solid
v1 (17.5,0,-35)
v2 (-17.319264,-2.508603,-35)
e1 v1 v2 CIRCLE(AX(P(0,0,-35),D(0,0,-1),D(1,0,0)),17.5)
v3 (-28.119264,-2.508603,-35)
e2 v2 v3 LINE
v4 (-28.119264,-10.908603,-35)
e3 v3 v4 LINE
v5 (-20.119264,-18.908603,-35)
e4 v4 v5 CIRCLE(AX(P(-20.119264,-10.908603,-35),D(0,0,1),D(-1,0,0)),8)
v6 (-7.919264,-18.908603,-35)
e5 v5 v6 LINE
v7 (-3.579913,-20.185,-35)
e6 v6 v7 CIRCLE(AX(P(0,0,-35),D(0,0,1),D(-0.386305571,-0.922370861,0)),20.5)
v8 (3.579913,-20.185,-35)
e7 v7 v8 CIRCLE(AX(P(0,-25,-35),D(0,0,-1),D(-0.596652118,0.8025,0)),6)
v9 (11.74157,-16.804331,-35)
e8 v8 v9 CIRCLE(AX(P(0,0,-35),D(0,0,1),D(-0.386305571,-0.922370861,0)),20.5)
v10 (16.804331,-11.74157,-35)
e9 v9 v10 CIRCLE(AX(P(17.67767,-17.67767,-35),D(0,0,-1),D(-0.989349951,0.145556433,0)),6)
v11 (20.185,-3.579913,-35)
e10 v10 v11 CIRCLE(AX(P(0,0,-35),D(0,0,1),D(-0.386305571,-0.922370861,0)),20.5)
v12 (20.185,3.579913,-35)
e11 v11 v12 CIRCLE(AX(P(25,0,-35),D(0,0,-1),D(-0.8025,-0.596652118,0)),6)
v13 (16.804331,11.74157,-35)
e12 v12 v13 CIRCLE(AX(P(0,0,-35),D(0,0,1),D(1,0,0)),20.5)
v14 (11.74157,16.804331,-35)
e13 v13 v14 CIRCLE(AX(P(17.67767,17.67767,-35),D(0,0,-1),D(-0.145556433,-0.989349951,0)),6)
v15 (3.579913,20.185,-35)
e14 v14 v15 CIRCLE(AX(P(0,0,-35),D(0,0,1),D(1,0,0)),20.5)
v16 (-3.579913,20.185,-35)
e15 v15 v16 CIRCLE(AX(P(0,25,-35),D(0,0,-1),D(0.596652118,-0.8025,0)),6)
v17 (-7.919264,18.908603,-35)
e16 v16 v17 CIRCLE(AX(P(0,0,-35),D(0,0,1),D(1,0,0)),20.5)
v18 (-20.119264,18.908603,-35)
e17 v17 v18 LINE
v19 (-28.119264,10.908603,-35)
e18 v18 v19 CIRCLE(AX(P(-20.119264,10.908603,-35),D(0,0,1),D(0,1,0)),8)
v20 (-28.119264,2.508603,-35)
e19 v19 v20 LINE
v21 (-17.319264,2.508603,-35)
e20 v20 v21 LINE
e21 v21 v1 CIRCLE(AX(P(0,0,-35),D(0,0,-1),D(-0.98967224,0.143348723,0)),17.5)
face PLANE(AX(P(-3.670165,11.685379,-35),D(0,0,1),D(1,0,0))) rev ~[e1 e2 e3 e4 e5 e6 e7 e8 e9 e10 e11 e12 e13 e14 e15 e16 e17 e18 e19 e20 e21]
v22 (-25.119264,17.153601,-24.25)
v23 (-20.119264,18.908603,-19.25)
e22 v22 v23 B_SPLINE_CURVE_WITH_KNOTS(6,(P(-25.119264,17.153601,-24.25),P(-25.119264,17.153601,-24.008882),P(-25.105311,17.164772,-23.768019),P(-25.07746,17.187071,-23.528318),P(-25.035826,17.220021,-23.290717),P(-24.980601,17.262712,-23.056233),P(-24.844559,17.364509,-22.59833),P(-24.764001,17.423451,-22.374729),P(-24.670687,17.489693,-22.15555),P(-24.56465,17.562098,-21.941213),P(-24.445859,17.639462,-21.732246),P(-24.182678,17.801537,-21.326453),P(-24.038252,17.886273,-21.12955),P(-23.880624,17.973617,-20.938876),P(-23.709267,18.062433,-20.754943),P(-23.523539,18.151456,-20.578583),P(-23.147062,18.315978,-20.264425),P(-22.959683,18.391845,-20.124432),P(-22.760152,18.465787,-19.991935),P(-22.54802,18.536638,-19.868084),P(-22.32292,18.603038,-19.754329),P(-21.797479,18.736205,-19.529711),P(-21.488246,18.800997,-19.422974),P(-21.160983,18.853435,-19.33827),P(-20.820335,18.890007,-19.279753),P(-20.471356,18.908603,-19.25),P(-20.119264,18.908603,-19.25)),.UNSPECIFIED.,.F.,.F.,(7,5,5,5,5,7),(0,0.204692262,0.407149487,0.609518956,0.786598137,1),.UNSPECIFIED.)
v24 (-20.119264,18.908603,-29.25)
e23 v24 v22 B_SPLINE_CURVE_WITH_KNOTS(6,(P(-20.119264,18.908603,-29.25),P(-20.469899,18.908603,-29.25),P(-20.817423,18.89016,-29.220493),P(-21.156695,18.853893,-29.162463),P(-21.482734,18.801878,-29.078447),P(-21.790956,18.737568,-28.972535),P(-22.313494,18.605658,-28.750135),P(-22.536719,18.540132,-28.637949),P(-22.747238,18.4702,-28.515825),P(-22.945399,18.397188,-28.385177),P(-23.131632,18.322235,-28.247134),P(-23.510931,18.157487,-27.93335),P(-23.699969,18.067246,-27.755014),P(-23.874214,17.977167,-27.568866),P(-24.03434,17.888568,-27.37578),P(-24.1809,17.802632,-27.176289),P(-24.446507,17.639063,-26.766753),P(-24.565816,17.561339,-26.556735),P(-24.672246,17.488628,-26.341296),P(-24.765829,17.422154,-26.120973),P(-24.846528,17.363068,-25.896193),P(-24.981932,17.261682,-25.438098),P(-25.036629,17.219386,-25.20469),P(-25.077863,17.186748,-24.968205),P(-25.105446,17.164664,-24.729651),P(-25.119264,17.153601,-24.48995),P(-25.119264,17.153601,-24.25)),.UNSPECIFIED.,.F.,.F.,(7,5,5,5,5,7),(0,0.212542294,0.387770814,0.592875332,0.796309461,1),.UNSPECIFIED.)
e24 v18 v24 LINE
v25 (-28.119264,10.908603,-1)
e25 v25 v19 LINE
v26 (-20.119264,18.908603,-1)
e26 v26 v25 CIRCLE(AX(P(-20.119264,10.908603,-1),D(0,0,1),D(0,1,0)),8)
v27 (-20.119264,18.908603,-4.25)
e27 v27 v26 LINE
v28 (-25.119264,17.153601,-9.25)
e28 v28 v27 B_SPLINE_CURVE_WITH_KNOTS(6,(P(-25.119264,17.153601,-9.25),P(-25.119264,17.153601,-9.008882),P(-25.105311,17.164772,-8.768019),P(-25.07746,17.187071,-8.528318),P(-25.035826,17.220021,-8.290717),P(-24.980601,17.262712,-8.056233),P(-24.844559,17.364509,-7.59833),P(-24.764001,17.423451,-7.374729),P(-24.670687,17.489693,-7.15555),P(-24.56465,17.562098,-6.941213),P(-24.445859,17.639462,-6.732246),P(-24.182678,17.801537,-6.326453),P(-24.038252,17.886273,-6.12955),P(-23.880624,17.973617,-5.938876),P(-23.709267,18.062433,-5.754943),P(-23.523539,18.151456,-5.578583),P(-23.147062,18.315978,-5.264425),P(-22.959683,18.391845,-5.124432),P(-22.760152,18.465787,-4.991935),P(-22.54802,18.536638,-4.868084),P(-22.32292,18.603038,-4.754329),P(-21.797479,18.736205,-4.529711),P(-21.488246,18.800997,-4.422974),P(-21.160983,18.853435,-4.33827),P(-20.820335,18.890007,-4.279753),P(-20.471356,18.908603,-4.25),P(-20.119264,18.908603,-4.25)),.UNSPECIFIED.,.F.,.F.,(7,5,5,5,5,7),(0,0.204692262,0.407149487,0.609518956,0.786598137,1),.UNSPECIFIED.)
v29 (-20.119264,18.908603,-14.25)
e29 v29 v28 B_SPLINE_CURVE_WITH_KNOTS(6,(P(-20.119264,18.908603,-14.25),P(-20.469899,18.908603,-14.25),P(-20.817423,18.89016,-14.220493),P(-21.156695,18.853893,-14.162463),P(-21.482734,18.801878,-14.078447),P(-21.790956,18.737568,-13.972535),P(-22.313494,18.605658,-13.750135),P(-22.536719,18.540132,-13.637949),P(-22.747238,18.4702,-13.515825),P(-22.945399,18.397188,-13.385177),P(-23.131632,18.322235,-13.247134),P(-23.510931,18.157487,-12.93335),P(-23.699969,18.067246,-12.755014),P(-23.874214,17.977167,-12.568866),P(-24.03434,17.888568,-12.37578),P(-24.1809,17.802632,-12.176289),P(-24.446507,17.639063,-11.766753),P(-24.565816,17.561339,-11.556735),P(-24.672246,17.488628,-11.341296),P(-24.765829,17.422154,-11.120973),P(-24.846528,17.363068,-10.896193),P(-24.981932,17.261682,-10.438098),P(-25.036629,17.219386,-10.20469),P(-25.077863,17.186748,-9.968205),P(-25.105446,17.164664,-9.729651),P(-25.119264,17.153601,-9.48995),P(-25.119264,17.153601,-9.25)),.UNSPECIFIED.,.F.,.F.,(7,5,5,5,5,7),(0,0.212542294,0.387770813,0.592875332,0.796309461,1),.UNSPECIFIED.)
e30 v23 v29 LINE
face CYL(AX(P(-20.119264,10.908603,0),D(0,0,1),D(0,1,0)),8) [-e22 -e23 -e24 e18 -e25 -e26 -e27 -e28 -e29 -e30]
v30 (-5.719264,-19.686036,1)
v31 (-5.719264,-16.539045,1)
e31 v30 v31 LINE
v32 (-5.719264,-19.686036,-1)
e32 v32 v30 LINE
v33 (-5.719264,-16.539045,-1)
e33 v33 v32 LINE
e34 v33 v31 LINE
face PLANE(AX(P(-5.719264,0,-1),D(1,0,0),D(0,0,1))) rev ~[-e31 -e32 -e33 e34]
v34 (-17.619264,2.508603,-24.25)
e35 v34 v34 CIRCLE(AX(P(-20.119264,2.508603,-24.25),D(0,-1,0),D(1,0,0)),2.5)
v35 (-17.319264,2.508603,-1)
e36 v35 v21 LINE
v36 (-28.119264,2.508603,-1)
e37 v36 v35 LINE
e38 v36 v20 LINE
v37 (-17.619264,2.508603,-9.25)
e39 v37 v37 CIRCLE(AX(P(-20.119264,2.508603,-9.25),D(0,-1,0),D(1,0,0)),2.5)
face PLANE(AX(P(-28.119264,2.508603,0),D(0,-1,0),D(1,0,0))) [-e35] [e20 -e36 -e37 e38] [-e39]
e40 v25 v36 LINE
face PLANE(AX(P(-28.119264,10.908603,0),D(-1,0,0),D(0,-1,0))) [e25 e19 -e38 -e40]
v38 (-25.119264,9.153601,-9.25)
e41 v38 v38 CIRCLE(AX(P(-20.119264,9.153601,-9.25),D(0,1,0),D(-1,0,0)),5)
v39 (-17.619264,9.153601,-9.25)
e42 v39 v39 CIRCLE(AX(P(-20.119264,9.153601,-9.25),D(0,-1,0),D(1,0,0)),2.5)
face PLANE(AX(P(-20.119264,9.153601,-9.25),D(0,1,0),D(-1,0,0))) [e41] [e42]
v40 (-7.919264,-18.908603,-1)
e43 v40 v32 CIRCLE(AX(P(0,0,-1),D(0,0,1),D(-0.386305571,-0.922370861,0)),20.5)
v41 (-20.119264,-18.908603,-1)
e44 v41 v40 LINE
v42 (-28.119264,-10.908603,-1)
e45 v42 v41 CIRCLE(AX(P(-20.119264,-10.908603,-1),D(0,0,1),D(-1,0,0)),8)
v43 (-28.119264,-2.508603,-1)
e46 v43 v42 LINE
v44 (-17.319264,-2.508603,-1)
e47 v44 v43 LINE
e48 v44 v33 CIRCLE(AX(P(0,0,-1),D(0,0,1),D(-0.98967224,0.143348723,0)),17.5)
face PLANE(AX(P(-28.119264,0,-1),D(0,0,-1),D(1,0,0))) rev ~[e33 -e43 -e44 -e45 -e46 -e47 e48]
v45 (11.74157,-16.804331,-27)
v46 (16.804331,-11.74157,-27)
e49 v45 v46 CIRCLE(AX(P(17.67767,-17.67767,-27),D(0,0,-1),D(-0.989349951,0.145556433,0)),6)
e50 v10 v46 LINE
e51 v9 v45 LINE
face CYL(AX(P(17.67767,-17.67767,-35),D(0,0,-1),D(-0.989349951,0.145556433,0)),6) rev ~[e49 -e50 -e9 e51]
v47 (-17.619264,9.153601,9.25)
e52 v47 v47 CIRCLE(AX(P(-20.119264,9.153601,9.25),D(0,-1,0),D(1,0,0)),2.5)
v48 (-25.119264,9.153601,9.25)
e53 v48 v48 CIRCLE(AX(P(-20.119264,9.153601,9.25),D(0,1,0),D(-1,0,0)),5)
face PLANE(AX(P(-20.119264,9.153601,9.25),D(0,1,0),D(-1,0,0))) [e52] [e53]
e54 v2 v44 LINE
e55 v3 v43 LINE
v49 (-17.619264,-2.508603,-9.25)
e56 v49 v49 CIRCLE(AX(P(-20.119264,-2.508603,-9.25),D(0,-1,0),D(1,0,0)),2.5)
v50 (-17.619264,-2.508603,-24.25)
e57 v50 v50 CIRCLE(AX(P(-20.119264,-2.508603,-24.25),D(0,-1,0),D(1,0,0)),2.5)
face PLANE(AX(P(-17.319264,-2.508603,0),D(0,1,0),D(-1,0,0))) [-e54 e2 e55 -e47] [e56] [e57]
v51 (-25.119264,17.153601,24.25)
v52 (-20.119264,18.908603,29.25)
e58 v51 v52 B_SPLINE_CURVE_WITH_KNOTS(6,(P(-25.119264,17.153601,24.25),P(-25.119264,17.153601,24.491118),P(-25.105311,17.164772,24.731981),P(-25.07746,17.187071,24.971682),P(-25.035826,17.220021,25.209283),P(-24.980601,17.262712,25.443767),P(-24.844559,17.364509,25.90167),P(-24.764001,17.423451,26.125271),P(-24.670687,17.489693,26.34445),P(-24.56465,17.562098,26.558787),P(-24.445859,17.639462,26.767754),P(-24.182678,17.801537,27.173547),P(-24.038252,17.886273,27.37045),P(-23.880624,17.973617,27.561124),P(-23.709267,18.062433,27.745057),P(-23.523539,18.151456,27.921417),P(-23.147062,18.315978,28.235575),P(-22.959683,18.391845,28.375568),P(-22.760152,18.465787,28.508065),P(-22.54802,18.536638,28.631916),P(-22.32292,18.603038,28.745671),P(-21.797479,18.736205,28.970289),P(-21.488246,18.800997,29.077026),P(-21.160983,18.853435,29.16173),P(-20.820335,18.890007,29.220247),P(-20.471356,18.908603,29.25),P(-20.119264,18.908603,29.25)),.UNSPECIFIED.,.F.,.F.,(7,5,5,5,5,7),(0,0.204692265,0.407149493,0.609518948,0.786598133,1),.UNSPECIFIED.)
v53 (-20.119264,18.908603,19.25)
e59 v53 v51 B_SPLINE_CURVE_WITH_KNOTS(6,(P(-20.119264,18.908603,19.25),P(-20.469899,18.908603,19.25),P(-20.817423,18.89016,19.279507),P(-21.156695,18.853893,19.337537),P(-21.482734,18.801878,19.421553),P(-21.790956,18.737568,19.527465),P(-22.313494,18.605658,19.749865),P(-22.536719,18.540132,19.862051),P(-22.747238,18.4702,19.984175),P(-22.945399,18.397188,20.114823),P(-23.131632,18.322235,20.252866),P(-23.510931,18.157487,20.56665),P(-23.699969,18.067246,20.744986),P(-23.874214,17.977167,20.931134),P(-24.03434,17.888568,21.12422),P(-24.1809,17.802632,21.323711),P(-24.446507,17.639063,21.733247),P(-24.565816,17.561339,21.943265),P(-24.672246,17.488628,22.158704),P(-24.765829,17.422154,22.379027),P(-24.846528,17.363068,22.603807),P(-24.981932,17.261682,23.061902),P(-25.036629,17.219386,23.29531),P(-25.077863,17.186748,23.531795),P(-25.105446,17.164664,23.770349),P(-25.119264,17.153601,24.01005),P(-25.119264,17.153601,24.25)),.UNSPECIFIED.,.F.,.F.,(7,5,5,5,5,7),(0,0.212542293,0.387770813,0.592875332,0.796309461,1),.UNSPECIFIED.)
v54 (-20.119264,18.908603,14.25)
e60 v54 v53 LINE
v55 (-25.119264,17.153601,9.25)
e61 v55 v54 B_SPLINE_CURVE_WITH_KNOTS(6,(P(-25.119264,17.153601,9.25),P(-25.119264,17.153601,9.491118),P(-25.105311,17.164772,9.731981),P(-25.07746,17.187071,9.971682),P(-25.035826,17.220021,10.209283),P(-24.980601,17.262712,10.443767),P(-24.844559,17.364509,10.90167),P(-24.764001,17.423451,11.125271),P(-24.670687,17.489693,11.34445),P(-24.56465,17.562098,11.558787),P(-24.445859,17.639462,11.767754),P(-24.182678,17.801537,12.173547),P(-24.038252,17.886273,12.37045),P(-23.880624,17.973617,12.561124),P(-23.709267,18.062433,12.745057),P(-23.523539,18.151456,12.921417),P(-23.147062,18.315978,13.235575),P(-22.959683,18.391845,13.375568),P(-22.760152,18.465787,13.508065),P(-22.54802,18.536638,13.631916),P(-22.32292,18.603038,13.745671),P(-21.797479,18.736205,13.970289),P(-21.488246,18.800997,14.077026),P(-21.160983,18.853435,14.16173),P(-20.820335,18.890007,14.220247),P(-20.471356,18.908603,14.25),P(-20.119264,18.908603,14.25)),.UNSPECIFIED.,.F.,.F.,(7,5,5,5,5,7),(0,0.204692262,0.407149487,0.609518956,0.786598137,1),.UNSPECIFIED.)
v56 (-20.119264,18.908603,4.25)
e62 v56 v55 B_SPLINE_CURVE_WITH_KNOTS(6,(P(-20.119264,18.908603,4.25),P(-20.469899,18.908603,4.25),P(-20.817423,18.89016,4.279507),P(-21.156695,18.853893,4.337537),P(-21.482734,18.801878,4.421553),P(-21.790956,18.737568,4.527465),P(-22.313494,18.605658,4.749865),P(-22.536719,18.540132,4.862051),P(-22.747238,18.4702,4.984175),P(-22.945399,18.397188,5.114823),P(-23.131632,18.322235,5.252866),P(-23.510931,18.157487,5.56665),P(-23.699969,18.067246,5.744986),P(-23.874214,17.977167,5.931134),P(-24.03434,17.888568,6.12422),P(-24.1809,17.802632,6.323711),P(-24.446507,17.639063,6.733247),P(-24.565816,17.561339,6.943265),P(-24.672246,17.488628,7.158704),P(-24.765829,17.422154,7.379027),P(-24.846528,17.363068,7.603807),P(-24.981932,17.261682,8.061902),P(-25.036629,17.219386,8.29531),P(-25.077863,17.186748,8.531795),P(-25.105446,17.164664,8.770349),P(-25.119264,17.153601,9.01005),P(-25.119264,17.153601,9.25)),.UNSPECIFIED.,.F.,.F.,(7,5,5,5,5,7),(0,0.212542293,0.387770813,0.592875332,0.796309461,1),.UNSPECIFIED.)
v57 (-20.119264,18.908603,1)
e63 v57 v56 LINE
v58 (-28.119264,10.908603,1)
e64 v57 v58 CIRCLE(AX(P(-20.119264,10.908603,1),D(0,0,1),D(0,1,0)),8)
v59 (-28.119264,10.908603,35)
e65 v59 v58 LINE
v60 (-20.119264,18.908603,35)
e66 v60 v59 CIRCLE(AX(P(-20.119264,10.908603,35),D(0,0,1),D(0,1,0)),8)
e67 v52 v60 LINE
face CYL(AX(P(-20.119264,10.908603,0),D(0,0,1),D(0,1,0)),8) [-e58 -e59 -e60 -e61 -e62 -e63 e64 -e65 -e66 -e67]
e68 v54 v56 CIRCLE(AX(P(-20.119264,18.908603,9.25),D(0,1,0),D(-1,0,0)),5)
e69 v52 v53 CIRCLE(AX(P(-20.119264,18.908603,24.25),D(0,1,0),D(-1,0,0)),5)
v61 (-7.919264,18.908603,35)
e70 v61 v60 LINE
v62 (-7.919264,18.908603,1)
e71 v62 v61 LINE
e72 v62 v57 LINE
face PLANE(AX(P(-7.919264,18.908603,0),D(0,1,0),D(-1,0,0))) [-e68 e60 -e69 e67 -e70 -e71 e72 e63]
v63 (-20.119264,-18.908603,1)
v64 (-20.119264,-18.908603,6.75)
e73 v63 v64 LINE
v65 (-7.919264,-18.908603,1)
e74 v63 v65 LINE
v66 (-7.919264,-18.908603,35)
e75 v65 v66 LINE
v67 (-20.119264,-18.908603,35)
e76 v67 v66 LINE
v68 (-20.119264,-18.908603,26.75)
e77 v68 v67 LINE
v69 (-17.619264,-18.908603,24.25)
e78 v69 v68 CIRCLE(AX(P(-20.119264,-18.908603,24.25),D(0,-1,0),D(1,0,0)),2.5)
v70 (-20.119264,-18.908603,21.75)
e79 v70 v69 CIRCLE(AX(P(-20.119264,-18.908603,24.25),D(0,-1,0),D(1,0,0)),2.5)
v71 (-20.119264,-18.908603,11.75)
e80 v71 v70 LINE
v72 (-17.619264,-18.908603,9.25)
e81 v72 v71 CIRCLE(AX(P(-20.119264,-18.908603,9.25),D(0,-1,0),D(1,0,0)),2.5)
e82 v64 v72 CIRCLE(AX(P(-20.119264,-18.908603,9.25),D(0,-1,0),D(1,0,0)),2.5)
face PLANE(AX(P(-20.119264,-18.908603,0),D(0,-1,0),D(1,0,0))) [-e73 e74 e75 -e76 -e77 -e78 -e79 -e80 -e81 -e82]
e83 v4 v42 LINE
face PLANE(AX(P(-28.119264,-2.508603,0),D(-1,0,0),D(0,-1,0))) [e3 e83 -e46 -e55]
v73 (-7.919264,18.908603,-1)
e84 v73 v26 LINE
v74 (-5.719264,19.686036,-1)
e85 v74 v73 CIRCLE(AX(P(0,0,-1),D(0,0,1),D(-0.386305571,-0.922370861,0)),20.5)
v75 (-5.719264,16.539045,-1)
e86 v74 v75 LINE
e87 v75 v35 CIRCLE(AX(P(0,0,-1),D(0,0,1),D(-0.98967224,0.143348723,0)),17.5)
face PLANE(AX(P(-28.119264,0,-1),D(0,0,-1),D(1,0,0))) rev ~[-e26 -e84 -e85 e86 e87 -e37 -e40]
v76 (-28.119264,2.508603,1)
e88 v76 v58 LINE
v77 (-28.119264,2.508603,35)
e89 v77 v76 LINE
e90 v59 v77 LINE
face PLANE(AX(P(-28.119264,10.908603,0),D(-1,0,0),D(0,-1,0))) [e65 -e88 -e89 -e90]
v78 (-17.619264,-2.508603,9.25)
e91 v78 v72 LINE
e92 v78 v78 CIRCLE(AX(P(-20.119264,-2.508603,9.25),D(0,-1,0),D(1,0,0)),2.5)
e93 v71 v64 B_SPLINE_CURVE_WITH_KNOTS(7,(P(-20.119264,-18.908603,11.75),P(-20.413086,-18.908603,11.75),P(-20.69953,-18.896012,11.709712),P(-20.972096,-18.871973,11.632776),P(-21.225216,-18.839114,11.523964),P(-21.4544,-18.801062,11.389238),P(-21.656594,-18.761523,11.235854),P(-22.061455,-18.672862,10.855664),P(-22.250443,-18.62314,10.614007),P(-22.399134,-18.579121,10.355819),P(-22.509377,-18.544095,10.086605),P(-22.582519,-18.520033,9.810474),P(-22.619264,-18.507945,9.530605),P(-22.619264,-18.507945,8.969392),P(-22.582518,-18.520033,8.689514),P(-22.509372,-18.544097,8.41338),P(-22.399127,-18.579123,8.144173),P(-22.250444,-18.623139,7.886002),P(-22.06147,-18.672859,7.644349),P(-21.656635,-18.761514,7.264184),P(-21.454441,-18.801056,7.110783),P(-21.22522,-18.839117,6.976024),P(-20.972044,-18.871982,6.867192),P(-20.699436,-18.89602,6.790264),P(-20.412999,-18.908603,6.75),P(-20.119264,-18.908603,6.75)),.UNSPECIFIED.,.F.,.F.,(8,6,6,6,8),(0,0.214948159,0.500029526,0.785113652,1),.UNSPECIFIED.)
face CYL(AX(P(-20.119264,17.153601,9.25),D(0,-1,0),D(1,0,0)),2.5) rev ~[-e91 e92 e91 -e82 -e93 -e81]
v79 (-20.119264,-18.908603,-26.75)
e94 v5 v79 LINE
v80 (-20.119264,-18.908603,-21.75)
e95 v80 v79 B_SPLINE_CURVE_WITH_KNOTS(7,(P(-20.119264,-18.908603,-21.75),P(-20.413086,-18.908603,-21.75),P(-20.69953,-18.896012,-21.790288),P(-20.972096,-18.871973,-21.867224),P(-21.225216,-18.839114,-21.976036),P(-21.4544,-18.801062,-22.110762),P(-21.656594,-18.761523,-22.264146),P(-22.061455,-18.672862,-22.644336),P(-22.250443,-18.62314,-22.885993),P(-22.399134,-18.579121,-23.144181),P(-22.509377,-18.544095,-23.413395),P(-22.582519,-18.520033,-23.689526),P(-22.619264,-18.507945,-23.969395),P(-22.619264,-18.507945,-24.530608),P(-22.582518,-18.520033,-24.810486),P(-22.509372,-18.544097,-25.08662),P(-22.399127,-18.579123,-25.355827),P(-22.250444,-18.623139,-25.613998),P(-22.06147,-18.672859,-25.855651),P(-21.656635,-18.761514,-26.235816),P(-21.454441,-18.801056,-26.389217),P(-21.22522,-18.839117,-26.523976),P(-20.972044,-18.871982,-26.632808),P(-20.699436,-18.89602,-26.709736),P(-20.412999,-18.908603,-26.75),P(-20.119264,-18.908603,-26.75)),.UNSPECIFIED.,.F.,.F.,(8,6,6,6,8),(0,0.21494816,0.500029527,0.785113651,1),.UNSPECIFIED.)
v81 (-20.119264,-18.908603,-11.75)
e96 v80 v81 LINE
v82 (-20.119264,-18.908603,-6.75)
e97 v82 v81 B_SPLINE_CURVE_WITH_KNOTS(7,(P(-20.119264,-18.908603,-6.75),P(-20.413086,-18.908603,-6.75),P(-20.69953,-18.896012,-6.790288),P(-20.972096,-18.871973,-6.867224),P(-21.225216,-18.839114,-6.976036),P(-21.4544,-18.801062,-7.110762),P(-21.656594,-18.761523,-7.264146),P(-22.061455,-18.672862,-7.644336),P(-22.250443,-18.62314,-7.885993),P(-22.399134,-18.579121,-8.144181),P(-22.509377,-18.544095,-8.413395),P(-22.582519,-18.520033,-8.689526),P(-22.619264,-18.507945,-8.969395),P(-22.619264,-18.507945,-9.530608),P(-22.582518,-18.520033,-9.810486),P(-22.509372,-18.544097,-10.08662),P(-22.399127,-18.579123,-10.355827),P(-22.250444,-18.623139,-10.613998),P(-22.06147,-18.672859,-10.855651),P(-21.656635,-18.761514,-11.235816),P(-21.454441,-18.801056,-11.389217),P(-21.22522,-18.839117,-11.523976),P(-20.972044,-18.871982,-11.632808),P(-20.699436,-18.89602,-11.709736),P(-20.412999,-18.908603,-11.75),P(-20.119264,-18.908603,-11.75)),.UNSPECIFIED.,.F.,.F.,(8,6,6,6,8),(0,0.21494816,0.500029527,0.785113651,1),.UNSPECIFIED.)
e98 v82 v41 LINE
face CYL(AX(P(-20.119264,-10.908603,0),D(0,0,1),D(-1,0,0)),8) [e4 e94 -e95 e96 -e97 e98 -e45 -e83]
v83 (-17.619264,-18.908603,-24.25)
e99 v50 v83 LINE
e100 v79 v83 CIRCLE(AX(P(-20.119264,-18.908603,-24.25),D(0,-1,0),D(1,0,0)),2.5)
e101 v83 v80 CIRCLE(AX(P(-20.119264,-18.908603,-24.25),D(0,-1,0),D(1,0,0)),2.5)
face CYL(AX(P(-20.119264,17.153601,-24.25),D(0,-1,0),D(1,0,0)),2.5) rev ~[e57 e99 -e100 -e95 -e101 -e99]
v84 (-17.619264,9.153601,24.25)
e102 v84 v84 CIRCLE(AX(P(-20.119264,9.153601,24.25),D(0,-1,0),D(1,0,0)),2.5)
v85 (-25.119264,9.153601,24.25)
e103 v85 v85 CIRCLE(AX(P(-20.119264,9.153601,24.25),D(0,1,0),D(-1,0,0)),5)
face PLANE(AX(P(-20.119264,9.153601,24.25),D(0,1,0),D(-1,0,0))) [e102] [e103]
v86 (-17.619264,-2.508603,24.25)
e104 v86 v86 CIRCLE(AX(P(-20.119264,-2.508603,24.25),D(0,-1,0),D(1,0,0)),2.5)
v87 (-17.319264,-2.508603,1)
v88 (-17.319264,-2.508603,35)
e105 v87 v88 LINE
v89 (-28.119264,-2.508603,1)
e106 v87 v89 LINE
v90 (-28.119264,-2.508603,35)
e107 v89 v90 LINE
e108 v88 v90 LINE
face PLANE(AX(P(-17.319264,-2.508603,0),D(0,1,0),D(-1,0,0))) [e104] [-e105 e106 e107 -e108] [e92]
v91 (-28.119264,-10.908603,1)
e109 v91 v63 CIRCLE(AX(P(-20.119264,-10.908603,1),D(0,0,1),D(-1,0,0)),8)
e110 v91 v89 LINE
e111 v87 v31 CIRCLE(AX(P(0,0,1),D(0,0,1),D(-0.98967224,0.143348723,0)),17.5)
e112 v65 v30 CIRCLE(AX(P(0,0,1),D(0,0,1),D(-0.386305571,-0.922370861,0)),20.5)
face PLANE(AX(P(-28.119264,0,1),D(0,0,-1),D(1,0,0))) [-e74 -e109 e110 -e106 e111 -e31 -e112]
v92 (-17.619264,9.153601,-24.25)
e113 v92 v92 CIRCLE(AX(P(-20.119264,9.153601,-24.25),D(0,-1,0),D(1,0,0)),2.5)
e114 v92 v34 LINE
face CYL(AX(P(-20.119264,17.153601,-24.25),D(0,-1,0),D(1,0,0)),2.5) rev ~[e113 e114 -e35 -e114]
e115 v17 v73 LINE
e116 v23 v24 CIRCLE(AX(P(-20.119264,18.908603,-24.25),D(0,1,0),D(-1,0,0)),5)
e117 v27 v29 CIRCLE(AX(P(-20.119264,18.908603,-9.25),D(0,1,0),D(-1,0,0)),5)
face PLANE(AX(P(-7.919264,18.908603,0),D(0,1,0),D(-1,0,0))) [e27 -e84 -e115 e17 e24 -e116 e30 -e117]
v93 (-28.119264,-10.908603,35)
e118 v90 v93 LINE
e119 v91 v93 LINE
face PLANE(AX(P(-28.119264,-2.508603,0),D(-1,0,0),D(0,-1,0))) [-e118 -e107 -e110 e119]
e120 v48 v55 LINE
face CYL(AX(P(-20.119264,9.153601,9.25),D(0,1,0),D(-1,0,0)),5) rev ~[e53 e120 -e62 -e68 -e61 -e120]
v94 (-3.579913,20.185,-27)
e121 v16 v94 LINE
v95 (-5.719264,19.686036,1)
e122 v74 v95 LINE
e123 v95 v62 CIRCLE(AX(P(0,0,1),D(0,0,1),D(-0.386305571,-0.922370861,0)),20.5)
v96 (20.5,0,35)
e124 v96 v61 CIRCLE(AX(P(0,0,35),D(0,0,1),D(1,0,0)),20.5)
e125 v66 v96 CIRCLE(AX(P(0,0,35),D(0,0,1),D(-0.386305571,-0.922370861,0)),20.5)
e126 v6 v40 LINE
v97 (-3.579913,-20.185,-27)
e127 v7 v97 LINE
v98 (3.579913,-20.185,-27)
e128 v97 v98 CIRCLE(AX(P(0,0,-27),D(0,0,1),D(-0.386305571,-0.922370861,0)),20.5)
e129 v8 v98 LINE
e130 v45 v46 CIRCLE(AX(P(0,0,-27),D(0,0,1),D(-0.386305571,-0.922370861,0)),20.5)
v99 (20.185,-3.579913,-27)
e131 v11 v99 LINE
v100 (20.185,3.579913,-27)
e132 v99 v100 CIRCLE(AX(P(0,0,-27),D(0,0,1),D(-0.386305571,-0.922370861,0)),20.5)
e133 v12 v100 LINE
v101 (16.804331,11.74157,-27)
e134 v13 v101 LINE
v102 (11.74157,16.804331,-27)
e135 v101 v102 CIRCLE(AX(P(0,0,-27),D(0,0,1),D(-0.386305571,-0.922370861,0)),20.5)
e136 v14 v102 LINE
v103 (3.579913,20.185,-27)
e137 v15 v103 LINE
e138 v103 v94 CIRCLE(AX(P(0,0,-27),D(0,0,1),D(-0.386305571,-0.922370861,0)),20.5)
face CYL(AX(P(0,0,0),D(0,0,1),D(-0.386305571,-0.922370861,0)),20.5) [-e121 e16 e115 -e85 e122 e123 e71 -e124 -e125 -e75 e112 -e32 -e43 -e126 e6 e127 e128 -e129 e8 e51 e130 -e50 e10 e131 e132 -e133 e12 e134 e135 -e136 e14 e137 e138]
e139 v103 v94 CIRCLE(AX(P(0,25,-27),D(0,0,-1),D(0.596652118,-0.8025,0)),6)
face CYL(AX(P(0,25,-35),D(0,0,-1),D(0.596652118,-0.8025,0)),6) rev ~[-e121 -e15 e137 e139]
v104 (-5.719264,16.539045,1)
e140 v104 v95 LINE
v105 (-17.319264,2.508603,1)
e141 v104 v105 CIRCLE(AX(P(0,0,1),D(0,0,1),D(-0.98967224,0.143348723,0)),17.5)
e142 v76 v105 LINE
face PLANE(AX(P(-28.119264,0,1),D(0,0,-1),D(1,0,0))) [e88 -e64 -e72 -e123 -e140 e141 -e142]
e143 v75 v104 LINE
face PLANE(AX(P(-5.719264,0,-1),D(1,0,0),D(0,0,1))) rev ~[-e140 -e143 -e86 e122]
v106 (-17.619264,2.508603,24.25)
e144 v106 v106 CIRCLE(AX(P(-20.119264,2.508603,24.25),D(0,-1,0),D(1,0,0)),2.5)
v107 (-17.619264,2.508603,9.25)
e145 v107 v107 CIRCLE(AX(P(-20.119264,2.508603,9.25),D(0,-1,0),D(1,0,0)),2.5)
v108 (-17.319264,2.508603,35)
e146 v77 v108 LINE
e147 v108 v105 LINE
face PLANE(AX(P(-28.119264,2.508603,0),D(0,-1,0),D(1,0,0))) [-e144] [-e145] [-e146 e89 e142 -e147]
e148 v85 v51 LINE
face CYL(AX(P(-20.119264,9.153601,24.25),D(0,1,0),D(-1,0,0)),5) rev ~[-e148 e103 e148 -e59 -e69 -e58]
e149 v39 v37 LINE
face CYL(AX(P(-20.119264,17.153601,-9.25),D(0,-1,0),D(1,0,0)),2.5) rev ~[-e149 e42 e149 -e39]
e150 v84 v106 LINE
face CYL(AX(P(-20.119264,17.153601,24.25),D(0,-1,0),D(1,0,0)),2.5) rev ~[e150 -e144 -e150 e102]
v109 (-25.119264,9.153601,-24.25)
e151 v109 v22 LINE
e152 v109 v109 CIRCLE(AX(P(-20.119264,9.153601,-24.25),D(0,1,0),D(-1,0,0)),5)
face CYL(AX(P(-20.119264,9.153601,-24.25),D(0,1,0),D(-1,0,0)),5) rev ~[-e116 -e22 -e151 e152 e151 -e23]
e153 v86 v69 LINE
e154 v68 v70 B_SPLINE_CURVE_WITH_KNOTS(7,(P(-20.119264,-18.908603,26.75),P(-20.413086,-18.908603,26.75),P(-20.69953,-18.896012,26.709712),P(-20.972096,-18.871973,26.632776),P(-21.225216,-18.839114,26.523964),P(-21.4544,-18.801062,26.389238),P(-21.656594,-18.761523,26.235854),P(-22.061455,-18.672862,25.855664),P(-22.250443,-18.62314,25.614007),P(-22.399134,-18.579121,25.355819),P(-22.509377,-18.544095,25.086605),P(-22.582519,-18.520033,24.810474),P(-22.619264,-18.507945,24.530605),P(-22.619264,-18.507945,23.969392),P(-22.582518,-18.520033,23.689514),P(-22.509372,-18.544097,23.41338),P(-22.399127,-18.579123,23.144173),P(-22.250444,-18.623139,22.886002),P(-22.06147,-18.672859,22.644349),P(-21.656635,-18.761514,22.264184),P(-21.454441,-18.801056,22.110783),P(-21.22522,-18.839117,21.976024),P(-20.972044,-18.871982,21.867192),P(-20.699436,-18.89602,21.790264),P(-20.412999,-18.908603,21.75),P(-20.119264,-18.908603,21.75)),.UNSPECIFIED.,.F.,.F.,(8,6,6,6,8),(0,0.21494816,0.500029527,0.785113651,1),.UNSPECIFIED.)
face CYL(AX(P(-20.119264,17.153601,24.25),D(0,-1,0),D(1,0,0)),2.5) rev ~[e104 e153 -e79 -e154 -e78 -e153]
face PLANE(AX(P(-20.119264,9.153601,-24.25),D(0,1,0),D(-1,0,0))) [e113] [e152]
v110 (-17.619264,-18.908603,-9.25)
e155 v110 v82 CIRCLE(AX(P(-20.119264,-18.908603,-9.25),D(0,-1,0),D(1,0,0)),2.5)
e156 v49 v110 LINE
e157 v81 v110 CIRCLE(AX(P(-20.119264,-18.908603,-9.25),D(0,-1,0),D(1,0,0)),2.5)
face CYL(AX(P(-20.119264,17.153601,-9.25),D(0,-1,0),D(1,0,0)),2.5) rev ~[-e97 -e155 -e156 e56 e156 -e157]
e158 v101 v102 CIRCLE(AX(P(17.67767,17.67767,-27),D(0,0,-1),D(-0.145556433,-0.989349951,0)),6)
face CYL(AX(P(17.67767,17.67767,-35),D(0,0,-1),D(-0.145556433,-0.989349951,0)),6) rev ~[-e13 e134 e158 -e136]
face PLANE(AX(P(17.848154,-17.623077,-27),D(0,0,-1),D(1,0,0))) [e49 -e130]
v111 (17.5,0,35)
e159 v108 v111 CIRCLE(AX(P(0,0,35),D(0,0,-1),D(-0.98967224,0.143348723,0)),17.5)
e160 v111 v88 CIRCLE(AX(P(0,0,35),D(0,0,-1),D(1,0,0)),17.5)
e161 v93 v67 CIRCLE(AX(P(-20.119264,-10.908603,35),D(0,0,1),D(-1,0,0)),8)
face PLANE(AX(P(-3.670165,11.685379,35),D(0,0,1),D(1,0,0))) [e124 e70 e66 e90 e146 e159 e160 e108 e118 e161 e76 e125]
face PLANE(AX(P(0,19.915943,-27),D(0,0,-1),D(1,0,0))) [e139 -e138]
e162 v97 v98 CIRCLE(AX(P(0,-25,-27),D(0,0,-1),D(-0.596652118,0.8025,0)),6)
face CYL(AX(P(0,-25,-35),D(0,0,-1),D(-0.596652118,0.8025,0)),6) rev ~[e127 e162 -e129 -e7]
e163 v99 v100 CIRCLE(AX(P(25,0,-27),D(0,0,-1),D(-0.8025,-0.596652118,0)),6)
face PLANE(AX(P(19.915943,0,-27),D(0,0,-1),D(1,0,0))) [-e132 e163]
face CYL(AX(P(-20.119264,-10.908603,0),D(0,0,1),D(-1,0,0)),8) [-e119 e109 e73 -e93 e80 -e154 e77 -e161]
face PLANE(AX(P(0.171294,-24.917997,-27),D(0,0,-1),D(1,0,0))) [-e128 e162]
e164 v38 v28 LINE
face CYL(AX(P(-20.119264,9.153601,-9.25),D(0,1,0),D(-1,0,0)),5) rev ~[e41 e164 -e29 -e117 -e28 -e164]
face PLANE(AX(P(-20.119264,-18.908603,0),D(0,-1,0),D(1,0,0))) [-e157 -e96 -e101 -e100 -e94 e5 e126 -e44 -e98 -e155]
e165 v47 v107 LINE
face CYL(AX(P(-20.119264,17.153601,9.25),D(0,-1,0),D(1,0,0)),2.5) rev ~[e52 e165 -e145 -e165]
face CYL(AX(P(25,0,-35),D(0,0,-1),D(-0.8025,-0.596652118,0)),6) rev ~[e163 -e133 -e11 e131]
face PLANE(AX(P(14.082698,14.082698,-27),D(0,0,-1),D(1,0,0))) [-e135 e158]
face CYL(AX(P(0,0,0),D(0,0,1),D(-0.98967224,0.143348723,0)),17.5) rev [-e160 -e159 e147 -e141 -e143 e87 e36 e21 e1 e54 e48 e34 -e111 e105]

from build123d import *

# Parameters (mm, degrees)
F1_DEPTH       = 35
F3_D           = 5
F3_START       = 1.7550021
F3_CBORE_D     = 10
F3_CBORE_DEPTH = 8
F4_W           = 22.4
F4_H           = 2
F5_DEPTH       = 25
F7_DEPTH       = 8


with BuildPart() as f1:
    # F0 (on Top) → F1 (new body, symmetric)
    with BuildSketch(Plane.XY):
        with BuildLine():
            ThreePointArc((-17.3192642082, 2.5086026559), (1.2575524553, 17.4547575698), (17.5, 0))
            Line((17.5, 0), (20.5, 0))
            ThreePointArc((20.5, 0), (11.3557272715, 17.0674385347), (-7.9192642082, 18.9086026559))
            Line((-7.9192642082, 18.9086026559), (-20.1192642082, 18.9086026559))
            ThreePointArc((-20.1192642082, 18.9086026559), (-25.7761184577, 16.5654569054), (-28.1192642082, 10.9086026559))
            Line((-28.1192642082, 10.9086026559), (-28.1192642082, 2.5086026559))
            Line((-28.1192642082, 2.5086026559), (-17.3192642082, 2.5086026559))
        make_face()
        with BuildLine():
            ThreePointArc((17.5, 0), (1.2575524553, -17.4547575698), (-17.3192642082, -2.5086026559))
            Line((-17.3192642082, -2.5086026559), (-28.1192642082, -2.5086026559))
            Line((-28.1192642082, -2.5086026559), (-28.1192642082, -10.9086026559))
            ThreePointArc((-28.1192642082, -10.9086026559), (-25.7761184577, -16.5654569054), (-20.1192642082, -18.9086026559))
            Line((-20.1192642082, -18.9086026559), (-7.9192642082, -18.9086026559))
            ThreePointArc((-7.9192642082, -18.9086026559), (11.3557272715, -17.0674385347), (20.5, 0))
            Line((20.5, 0), (17.5, 0))
        make_face()
    extrude(amount=F1_DEPTH, both=True)

    # F3 (through all)
    # its depths count from where the whole tool has entered the part; down to there all is cleared
    with Locations(Plane(origin=(0, 18.9086026559, 0), x_dir=(-1, 0, 0), z_dir=(0, 1, 0)).offset(-F3_START)):
        with Locations((20.1192642082, -24.25), (20.1192642082, -9.25), (20.1192642082, 9.25), (20.1192642082, 24.25)):
            CounterBoreHole(F3_D / 2, F3_CBORE_D / 2, F3_CBORE_DEPTH)

    # F4 (on Front) → F5 (cut, symmetric)
    with BuildSketch(Plane.XZ):
        with Locations((-16.9192642082, 0)):
            Rectangle(F4_W, F4_H)
    extrude(amount=F5_DEPTH, both=True, mode=Mode.SUBTRACT)

    # F6 (on face) → F7 (cut)
    with BuildSketch(Plane(origin=(0, 0, -35), x_dir=(1, 0, 0), z_dir=(0, 0, -1))):
        with BuildLine():
            ThreePointArc((-3.5799127084, 20.185), (0, 20.5), (3.5799127084, 20.185))
            ThreePointArc((3.5799127084, 20.185), (5.3609456372, 22.305512688), (6, 25))
            ThreePointArc((6, 25), (-2.694487312, 30.3609456372), (-3.5799127084, 20.185))
        make_face()
        with BuildLine():
            ThreePointArc((11.7415698261, 16.8043309304), (14.4956890143, 14.4956890143), (16.8043309304, 11.7415698261))
            ThreePointArc((16.8043309304, 11.7415698261), (21.5994018258, 13.1367427743), (23.6776695297, 17.6776695297))
            ThreePointArc((23.6776695297, 17.6776695297), (17.2398329286, 23.6616731318), (11.7415698261, 16.8043309304))
        make_face()
        with BuildLine():
            ThreePointArc((20.185, 3.5799127084), (19, 0), (20.185, -3.5799127084))
            ThreePointArc((20.185, -3.5799127084), (20.5, 0), (20.185, 3.5799127084))
        make_face()
        with BuildLine():
            ThreePointArc((16.8043309304, -11.7415698261), (13.4350288425, -13.4350288425), (11.7415698261, -16.8043309304))
            ThreePointArc((11.7415698261, -16.8043309304), (14.4956890143, -14.4956890143), (16.8043309304, -11.7415698261))
        make_face()
        with BuildLine():
            ThreePointArc((-3.5799127084, -20.185), (0, -20.5), (3.5799127084, -20.185))
            ThreePointArc((3.5799127084, -20.185), (0, -19), (-3.5799127084, -20.185))
        make_face()
        with BuildLine():
            ThreePointArc((-3.5799127084, 20.185), (0, 19), (3.5799127084, 20.185))
            ThreePointArc((3.5799127084, 20.185), (0, 20.5), (-3.5799127084, 20.185))
        make_face()
        with BuildLine():
            ThreePointArc((11.7415698261, 16.8043309304), (13.4350288425, 13.4350288425), (16.8043309304, 11.7415698261))
            ThreePointArc((16.8043309304, 11.7415698261), (14.4956890143, 14.4956890143), (11.7415698261, 16.8043309304))
        make_face()
        with BuildLine():
            ThreePointArc((20.185, 3.5799127084), (20.5, 0), (20.185, -3.5799127084))
            ThreePointArc((20.185, -3.5799127084), (26.8854707635, -5.6960512638), (31, 0))
            ThreePointArc((31, 0), (26.8854707635, 5.6960512638), (20.185, 3.5799127084))
        make_face()
        with BuildLine():
            ThreePointArc((16.8043309304, -11.7415698261), (14.4956890143, -14.4956890143), (11.7415698261, -16.8043309304))
            ThreePointArc((11.7415698261, -16.8043309304), (17.2398329286, -23.6616731318), (23.6776695297, -17.6776695297))
            ThreePointArc((23.6776695297, -17.6776695297), (21.5994018258, -13.1367427743), (16.8043309304, -11.7415698261))
        make_face()
        with BuildLine():
            ThreePointArc((-3.5799127084, -20.185), (-2.694487312, -30.3609456372), (6, -25))
            ThreePointArc((6, -25), (5.3609456372, -22.305512688), (3.5799127084, -20.185))
            ThreePointArc((3.5799127084, -20.185), (0, -20.5), (-3.5799127084, -20.185))
        make_face()
    extrude(amount=-F7_DEPTH, mode=Mode.SUBTRACT)


solid = f1.part
